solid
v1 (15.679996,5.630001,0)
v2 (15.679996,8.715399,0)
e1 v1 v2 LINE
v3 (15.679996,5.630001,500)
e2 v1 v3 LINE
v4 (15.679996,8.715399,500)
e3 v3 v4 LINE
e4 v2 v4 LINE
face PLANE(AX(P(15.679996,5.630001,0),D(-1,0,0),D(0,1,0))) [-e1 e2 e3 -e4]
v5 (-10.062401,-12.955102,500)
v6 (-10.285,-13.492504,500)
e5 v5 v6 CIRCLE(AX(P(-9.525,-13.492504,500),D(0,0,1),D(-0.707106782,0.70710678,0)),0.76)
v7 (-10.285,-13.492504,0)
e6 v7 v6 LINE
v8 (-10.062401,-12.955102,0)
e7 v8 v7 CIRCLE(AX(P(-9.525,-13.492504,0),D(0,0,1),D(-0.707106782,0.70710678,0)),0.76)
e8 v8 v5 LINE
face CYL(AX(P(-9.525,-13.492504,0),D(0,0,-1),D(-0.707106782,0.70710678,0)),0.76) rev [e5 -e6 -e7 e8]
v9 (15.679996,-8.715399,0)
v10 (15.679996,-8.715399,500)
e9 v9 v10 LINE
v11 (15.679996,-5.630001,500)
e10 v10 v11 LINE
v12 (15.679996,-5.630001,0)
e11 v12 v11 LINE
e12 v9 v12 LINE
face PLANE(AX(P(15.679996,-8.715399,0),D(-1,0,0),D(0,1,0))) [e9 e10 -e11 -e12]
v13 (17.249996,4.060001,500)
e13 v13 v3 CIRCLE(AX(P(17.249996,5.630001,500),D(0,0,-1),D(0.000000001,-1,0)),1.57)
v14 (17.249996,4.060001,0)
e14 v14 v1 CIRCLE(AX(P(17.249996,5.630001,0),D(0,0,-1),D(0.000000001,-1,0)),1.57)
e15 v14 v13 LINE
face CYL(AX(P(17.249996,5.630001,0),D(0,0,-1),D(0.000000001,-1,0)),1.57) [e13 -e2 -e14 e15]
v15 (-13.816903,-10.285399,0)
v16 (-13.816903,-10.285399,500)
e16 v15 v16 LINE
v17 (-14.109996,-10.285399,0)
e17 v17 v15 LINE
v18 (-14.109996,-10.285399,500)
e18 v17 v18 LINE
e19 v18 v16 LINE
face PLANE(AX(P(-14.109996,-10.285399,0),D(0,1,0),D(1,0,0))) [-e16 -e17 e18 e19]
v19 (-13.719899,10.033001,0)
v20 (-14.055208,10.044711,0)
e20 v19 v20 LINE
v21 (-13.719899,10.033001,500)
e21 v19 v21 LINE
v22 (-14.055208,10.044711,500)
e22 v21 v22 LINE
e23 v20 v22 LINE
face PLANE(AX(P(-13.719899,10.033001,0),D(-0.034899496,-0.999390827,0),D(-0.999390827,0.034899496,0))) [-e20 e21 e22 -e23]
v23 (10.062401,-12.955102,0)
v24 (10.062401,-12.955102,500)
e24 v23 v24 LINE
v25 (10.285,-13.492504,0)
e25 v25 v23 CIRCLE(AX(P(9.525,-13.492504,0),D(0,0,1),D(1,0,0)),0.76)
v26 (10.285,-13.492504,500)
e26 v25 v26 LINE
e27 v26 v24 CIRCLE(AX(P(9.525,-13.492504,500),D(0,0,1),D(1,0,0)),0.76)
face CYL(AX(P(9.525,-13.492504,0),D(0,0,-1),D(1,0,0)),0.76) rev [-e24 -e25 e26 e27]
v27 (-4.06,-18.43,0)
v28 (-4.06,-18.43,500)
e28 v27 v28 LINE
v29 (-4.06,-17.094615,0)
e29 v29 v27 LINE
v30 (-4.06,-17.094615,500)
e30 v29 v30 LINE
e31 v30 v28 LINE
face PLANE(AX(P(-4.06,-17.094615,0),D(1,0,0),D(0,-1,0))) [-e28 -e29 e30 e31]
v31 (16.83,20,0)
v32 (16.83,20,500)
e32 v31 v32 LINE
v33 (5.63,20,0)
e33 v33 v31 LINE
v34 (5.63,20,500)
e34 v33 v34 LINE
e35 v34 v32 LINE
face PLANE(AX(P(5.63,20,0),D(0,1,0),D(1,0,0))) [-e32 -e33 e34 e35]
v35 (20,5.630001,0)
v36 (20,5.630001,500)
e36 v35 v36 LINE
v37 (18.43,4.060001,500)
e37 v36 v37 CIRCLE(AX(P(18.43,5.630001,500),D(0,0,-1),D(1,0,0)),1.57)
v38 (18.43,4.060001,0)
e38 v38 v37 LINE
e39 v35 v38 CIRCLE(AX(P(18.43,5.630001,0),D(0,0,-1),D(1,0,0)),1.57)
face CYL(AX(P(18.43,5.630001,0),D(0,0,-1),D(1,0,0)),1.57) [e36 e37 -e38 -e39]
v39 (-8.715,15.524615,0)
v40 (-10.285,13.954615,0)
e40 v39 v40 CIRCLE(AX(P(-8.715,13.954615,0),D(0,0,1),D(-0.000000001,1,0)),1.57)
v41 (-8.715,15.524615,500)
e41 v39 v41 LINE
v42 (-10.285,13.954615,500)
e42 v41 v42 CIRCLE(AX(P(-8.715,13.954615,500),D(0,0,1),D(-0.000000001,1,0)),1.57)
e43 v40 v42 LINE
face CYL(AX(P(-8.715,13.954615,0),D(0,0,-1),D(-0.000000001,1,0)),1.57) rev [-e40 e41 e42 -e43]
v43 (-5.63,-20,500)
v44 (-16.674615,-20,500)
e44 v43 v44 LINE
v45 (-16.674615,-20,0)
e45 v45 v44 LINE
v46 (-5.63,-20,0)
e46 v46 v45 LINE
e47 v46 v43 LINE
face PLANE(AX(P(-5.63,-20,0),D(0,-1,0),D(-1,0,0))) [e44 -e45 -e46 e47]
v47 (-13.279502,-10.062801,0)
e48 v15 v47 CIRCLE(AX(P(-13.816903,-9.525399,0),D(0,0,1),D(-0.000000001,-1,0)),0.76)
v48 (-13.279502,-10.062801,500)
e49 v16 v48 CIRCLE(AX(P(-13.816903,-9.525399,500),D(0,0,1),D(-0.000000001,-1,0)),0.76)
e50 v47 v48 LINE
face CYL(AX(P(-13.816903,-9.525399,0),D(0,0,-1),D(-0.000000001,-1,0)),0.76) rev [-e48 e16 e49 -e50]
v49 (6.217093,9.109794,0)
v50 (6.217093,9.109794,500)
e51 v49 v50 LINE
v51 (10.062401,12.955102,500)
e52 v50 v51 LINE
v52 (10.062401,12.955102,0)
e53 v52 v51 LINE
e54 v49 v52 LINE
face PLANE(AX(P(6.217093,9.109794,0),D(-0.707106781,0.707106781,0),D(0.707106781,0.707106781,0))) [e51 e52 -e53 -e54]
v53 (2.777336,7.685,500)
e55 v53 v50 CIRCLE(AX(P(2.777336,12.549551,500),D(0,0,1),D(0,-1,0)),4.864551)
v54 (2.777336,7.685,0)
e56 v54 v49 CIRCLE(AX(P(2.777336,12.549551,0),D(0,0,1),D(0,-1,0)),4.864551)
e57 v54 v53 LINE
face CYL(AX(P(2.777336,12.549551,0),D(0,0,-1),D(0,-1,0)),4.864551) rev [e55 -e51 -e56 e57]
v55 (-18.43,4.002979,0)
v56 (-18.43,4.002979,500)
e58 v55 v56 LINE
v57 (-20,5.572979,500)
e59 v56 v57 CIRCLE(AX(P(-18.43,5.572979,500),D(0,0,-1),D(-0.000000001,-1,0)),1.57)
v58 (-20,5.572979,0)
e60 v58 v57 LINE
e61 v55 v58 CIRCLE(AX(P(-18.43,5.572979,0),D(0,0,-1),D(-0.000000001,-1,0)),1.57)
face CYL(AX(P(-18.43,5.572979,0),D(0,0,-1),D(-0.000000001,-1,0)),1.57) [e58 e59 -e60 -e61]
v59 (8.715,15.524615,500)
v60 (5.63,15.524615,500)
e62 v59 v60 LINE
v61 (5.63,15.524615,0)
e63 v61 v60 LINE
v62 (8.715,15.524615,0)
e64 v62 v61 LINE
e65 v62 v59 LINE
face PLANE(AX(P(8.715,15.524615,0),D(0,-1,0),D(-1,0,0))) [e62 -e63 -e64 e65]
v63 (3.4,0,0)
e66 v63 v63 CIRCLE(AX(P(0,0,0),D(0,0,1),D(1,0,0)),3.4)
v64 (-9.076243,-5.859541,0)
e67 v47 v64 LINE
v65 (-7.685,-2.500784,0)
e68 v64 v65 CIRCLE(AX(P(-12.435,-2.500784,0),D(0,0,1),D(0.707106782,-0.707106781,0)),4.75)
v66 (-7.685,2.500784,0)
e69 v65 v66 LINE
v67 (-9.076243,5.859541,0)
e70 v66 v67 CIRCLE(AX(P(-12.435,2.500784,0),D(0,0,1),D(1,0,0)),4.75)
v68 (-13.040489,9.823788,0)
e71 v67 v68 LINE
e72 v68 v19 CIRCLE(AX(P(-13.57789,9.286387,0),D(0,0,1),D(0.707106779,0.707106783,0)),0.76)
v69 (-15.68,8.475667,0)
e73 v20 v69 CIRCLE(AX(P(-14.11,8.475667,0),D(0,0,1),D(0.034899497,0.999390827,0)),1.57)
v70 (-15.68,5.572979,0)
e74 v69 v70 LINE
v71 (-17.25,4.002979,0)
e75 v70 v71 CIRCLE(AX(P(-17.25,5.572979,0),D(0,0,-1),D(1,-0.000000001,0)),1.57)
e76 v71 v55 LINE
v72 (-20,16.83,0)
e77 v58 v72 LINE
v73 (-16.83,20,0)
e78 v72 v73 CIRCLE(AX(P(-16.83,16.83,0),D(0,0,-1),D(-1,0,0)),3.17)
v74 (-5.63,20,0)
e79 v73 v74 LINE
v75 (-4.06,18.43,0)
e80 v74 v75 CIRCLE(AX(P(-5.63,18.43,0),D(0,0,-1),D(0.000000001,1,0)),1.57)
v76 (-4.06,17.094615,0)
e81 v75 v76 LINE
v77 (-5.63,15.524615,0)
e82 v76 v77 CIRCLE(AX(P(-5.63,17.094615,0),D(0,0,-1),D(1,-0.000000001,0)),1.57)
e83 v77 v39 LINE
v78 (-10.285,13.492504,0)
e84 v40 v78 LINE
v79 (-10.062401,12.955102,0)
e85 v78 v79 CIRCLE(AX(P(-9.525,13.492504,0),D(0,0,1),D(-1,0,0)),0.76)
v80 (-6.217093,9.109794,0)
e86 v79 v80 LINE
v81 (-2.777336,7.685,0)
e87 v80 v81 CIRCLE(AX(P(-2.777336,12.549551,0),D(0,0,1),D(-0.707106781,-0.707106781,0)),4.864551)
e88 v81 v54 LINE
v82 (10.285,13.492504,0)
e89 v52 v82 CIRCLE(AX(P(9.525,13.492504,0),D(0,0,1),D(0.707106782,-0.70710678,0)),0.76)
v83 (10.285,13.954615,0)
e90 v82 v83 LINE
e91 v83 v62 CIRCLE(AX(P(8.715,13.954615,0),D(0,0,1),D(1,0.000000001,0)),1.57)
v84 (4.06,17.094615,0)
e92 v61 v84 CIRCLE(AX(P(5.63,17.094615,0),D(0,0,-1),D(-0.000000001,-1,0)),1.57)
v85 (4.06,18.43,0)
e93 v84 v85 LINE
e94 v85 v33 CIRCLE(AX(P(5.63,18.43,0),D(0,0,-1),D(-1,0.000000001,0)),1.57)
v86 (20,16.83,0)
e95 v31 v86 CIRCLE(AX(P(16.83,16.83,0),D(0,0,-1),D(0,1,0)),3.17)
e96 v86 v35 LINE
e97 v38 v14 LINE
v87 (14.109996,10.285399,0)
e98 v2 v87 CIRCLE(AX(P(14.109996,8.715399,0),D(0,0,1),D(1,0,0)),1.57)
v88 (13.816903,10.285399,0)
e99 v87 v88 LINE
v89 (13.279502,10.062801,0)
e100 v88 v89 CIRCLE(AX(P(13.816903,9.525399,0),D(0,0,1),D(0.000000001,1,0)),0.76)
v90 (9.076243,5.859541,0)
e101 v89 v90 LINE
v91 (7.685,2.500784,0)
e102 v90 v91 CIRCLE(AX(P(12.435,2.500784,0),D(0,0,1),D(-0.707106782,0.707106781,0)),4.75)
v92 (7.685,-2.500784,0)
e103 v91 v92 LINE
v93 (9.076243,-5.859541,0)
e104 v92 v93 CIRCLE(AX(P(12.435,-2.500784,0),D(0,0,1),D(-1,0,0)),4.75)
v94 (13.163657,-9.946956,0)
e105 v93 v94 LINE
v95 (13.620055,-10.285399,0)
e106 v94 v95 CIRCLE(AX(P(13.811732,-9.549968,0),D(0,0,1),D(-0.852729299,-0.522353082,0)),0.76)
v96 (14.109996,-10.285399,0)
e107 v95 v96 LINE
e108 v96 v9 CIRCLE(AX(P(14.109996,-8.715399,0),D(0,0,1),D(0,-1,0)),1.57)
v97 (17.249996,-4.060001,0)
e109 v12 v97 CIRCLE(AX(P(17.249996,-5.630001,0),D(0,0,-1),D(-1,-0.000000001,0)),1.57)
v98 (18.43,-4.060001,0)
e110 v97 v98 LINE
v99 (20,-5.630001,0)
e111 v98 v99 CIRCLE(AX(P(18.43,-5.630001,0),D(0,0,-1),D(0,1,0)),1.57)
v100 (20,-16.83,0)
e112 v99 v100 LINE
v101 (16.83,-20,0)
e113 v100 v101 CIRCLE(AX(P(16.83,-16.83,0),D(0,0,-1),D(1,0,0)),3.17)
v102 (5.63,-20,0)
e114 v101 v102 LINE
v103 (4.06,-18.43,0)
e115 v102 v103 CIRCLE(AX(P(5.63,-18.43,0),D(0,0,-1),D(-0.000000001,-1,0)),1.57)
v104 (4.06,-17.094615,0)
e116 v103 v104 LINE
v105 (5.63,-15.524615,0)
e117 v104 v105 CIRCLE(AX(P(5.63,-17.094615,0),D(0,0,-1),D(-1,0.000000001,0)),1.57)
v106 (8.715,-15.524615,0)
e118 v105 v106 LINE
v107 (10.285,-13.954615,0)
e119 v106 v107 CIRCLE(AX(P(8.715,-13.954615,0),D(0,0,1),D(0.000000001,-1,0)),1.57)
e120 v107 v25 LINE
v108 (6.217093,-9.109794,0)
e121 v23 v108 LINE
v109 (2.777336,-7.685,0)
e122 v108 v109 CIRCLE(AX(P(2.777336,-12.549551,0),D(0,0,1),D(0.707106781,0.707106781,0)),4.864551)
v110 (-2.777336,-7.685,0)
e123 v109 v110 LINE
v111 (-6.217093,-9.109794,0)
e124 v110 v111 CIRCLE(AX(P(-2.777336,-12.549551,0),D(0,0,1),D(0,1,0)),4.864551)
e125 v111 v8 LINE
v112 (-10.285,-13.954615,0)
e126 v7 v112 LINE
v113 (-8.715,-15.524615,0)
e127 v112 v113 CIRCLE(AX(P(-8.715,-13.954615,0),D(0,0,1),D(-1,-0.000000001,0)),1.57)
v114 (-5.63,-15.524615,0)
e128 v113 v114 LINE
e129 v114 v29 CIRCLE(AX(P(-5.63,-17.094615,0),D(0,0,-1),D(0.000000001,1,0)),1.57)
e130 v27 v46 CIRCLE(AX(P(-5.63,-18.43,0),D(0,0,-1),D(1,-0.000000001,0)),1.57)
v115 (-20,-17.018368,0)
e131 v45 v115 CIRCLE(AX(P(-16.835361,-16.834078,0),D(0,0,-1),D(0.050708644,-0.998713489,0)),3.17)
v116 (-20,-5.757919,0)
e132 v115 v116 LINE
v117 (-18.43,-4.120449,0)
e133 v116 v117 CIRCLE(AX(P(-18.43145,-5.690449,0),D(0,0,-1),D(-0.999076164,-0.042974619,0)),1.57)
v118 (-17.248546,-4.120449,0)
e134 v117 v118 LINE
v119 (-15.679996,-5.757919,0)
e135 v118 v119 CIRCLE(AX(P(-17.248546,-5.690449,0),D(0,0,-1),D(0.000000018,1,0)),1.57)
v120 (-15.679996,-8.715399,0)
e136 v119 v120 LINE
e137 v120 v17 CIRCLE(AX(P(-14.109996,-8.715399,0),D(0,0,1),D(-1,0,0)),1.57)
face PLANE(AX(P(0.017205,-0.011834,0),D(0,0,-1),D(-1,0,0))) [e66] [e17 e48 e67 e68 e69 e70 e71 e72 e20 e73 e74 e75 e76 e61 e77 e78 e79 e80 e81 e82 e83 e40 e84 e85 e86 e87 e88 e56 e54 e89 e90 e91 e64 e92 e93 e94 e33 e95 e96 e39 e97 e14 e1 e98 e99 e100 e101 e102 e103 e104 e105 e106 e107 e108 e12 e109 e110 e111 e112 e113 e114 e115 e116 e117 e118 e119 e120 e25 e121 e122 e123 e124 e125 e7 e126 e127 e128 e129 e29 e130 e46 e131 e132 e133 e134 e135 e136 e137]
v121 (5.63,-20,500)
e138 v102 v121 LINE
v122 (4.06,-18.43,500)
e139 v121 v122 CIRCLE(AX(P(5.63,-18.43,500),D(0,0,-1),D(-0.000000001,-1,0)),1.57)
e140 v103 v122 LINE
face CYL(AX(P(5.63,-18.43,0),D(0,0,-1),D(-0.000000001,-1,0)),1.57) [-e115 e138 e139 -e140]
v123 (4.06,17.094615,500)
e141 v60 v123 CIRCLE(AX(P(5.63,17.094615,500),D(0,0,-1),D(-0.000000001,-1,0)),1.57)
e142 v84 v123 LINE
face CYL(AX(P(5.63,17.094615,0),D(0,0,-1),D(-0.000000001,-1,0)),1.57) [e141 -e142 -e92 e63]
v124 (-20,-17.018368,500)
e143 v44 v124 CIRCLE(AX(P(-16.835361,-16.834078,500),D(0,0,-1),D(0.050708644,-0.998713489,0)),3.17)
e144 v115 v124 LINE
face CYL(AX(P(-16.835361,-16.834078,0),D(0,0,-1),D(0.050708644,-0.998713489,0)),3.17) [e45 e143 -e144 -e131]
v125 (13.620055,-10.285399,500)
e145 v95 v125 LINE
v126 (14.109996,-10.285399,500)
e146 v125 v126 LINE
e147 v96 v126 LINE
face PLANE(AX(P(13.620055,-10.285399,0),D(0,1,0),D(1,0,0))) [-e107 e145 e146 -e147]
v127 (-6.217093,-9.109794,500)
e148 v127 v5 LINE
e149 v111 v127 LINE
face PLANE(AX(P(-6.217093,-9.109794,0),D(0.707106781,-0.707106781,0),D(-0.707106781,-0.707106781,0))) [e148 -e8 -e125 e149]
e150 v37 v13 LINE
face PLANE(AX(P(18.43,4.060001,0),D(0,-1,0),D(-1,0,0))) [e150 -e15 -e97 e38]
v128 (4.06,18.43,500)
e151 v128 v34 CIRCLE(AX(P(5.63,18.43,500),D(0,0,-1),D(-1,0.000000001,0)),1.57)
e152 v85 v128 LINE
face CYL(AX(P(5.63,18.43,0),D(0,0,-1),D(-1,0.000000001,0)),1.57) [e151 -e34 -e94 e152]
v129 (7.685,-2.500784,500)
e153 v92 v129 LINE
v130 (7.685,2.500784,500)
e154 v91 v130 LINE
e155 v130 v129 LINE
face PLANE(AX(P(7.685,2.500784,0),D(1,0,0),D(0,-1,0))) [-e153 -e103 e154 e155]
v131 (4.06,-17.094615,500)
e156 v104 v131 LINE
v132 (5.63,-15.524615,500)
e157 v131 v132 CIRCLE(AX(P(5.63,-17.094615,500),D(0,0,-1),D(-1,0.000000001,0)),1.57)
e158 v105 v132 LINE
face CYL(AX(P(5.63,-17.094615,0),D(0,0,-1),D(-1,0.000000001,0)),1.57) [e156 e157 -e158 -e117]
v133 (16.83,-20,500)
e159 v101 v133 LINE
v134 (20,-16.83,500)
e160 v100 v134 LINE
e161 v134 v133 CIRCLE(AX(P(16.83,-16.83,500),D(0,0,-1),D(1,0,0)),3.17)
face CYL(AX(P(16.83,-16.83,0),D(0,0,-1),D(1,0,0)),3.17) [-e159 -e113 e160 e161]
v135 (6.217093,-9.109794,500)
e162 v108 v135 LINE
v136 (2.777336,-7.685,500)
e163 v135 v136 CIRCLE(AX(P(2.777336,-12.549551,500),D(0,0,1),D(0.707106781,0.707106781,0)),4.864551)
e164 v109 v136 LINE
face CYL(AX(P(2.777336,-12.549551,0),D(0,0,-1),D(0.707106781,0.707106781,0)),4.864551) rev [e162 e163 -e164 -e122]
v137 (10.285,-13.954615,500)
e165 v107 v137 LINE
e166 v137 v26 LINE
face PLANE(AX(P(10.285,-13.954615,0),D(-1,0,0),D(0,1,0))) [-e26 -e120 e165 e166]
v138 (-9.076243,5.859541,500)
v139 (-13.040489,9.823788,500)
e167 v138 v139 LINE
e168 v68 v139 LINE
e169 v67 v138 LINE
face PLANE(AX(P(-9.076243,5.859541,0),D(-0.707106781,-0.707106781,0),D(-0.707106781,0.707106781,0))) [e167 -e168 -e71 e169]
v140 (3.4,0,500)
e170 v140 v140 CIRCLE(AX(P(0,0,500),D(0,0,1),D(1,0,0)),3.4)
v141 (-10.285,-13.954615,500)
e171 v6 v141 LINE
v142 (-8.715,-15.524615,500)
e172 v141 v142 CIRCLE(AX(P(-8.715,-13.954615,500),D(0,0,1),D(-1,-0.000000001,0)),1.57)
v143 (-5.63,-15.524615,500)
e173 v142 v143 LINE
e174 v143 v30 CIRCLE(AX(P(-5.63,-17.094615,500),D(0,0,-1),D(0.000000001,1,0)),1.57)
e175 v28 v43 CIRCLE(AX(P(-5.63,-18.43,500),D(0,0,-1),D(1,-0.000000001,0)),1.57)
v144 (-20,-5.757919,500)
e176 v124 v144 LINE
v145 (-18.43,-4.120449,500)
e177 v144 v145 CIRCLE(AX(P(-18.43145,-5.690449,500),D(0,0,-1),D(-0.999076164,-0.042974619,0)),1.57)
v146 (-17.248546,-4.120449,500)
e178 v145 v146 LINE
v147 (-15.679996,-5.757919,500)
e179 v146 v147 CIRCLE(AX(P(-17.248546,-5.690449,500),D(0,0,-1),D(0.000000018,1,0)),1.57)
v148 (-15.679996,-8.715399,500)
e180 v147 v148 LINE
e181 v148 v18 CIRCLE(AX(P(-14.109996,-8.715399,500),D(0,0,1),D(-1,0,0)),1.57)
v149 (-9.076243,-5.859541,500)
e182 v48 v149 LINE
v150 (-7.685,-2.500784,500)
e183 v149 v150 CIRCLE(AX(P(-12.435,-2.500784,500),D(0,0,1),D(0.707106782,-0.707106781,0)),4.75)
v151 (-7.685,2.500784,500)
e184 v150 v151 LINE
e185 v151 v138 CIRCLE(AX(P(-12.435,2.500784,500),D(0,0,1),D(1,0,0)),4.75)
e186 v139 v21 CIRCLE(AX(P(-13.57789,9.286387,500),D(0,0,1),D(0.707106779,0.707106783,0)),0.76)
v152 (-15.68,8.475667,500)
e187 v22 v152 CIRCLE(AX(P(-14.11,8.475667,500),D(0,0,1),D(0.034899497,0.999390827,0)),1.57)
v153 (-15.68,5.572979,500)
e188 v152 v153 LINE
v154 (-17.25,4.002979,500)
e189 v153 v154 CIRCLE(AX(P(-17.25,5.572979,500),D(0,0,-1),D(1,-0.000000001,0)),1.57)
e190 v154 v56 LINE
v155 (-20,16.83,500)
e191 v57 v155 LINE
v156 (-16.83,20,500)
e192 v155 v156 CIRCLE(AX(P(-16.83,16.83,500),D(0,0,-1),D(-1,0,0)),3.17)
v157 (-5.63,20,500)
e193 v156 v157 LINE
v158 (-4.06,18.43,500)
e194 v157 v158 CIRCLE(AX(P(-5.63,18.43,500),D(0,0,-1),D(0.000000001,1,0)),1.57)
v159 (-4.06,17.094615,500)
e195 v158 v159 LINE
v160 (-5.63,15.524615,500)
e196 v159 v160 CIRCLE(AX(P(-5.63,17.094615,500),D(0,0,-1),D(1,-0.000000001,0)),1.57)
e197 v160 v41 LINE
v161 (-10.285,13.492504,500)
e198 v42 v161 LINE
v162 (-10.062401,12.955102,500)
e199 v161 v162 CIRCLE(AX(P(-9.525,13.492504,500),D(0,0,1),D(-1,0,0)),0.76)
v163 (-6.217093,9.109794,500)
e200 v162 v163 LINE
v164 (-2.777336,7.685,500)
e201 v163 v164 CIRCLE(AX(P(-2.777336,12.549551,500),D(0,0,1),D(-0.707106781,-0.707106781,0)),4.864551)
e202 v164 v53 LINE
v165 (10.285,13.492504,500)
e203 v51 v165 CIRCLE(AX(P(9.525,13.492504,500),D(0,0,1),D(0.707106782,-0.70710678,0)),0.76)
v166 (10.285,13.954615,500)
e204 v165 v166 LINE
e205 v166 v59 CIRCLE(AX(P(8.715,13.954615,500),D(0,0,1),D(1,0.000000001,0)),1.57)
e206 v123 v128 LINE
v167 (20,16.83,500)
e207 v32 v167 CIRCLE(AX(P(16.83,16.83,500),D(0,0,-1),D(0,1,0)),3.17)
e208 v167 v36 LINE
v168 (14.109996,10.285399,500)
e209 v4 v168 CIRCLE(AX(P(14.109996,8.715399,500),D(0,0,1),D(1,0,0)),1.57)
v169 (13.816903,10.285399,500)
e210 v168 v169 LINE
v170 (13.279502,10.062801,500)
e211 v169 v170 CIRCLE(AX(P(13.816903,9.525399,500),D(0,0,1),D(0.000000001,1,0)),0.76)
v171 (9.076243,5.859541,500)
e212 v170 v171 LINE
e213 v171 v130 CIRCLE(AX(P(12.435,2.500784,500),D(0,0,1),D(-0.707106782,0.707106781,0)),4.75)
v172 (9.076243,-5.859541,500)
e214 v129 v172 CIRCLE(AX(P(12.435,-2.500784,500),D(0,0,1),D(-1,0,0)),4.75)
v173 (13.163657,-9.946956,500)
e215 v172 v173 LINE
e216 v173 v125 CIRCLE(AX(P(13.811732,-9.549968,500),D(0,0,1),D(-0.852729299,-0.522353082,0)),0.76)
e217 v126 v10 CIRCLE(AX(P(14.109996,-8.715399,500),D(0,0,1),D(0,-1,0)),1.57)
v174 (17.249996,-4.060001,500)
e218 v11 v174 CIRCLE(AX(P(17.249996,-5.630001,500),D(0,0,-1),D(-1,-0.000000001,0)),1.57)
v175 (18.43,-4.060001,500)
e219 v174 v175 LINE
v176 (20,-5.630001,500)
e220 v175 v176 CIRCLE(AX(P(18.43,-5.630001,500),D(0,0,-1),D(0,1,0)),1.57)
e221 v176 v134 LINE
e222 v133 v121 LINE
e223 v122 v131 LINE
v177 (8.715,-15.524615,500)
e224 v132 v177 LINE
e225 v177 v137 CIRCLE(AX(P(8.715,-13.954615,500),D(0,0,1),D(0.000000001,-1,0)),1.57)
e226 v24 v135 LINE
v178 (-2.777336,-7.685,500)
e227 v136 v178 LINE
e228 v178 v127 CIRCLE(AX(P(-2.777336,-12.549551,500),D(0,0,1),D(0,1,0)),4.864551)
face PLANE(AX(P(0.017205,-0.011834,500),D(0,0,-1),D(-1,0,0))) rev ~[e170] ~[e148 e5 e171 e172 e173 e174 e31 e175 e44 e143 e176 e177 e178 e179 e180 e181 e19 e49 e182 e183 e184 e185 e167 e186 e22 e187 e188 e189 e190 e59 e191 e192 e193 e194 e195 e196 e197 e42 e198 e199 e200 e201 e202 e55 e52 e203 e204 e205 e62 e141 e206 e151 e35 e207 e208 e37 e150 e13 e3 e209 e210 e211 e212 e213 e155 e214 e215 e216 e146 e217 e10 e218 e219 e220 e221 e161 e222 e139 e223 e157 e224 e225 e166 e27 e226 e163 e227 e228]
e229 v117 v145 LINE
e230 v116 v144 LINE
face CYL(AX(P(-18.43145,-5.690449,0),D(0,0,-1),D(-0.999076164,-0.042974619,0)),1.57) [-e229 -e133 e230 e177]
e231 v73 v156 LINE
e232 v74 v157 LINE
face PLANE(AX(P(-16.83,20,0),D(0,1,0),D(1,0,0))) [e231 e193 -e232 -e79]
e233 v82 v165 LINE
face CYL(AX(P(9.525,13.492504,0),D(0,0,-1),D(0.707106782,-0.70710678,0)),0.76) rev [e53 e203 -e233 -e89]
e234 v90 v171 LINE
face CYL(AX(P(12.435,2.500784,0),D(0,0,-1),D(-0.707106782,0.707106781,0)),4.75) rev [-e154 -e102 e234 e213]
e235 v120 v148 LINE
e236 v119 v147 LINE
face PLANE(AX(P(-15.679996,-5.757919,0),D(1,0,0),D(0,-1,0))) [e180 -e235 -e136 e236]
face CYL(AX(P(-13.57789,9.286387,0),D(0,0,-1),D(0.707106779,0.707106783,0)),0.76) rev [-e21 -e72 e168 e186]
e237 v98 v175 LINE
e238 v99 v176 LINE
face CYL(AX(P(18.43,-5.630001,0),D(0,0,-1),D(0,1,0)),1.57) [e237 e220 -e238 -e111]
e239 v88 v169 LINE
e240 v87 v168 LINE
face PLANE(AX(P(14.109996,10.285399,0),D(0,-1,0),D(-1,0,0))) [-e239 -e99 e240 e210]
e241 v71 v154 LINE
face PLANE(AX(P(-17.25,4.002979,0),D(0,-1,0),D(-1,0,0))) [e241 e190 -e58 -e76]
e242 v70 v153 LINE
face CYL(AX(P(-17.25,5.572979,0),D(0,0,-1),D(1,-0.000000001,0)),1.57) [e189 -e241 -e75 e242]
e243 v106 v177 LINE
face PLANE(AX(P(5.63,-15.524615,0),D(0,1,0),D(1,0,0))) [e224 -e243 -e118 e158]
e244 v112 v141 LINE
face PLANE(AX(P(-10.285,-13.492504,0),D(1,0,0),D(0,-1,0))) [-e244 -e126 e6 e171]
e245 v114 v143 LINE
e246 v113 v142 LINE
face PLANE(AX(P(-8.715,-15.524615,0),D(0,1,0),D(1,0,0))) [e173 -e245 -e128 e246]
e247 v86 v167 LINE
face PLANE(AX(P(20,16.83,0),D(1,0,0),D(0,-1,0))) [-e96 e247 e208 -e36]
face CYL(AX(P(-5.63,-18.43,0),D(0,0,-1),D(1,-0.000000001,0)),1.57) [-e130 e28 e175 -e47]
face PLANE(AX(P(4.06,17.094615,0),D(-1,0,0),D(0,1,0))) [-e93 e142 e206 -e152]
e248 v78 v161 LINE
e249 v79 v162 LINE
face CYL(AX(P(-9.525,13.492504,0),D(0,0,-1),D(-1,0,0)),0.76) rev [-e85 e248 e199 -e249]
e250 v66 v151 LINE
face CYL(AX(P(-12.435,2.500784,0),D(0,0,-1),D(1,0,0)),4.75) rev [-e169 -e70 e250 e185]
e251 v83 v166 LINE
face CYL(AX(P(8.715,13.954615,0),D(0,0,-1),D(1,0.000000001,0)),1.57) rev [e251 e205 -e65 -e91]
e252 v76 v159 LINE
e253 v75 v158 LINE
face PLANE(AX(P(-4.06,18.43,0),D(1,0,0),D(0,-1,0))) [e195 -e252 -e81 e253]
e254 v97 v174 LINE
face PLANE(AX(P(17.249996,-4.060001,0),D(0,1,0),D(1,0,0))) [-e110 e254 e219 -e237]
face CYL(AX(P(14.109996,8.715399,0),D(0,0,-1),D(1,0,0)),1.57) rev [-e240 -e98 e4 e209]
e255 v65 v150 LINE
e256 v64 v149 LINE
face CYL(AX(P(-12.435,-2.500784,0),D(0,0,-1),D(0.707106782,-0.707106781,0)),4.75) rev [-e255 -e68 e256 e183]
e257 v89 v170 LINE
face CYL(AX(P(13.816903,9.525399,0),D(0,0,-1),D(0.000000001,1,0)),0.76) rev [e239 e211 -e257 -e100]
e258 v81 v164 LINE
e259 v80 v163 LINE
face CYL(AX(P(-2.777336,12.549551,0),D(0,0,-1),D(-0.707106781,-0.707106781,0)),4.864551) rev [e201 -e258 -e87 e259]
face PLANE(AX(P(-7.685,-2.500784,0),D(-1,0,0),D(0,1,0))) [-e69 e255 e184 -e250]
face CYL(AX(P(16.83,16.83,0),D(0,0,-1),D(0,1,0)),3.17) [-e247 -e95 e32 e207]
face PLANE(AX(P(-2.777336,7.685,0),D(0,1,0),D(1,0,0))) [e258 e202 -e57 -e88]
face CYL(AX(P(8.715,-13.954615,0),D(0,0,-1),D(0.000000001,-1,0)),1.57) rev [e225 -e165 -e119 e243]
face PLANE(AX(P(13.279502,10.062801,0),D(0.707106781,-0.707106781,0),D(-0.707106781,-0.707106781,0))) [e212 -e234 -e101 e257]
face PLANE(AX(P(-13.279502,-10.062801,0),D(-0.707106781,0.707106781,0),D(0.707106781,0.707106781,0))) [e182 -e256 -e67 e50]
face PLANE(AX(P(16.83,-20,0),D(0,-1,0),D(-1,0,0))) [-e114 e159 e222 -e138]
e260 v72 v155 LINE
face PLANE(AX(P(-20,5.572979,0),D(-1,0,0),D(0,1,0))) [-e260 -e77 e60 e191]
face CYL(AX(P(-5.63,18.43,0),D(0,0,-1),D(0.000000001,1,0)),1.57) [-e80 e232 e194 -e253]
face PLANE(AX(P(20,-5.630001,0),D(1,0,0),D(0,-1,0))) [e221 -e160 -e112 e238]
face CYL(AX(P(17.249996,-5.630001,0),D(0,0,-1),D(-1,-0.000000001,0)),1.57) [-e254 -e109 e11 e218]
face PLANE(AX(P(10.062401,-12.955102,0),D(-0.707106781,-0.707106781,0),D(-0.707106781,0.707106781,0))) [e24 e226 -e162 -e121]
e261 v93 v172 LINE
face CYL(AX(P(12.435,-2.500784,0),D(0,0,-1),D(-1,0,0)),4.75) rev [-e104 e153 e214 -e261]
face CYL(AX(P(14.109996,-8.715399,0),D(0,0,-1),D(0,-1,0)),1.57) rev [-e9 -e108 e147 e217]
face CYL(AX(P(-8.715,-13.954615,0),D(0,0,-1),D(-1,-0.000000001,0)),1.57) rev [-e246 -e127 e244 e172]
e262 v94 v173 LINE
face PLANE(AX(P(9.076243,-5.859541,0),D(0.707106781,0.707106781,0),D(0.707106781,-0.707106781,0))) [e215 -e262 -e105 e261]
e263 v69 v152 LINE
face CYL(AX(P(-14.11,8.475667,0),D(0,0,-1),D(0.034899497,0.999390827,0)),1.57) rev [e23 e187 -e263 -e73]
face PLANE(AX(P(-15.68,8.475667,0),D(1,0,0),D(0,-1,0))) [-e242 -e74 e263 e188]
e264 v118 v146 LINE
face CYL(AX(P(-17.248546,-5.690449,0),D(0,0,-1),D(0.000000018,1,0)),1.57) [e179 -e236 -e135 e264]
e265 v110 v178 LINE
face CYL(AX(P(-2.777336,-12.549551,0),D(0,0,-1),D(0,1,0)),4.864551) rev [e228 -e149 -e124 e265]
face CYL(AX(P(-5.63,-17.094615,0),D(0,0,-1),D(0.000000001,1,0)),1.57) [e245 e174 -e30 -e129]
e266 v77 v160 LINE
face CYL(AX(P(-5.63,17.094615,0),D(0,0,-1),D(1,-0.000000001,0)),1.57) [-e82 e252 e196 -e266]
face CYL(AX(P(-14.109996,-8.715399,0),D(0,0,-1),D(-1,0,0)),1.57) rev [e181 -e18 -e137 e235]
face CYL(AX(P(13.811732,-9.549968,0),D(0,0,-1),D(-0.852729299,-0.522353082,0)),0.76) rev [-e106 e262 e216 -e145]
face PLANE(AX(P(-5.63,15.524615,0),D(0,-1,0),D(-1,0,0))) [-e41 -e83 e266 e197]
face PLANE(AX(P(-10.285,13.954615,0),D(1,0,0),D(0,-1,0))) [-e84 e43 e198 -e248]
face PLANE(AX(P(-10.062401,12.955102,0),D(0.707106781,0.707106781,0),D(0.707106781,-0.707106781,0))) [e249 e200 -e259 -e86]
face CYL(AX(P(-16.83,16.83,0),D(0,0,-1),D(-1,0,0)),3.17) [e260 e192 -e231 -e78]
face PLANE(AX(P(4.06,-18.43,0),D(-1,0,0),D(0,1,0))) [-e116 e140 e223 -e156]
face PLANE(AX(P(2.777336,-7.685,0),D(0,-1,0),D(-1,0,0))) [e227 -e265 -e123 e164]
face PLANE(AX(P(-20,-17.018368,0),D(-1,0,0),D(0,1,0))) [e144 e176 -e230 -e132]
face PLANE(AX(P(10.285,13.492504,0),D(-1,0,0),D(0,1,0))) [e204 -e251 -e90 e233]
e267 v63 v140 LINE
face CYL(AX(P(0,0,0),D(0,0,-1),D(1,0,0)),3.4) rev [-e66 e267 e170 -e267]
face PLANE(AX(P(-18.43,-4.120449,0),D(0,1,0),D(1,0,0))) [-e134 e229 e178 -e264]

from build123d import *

# Parameters (mm, degrees)
SKETCH1_R           = 3.4
BOSS_EXTRUDE2_DEPTH = 500


with BuildPart() as part:
    # Sketch1 → Boss-Extrude2 (new body)
    with BuildSketch(Plane.XY):
        with BuildLine():
            Line((-8.715, -15.524615034), (-5.63, -15.524615034))
            ThreePointArc((-5.63, -15.524615034), (-4.519842354, -15.984457388), (-4.06, -17.094615034))
            Line((-4.06, -17.094615034), (-4.06, -18.43))
            ThreePointArc((-4.06, -18.43), (-4.519842354, -19.540157646), (-5.63, -20))
            Line((-5.63, -20), (-16.674615034, -20))
            ThreePointArc((-16.674615034, -20), (-18.951578385, -19.194274381), (-20, -17.018368134))
            Line((-20, -17.018368134), (-20, -5.757918808))
            ThreePointArc((-20, -5.757918808), (-19.564709668, -4.603883664), (-18.43, -4.120449326))
            Line((-18.43, -4.120449326), (-17.248545805, -4.120449326))
            ThreePointArc((-17.248545805, -4.120449326), (-16.114784845, -4.604407881), (-15.67999625, -5.757919334))
            Line((-15.67999625, -5.757919334), (-15.67999625, -8.715399492))
            ThreePointArc((-15.67999625, -8.715399492), (-15.220153896, -9.825557139), (-14.10999625, -10.285399492))
            Line((-14.10999625, -10.285399492), (-13.816903094, -10.285399492))
            ThreePointArc((-13.816903094, -10.285399492), (-13.526063686, -10.227547937), (-13.279501941, -10.062800646))
            Line((-13.279501941, -10.062800646), (-9.076242789, -5.859541495))
            ThreePointArc((-9.076242789, -5.859541495), (-8.046572221, -4.318530588), (-7.685, -2.500784284))
            Line((-7.685, -2.500784284), (-7.685, 2.500784284))
            ThreePointArc((-7.685, 2.500784284), (-8.046572221, 4.318530588), (-9.076242789, 5.859541495))
            Line((-9.076242789, 5.859541495), (-13.040489136, 9.823787841))
            ThreePointArc((-13.040489136, 9.823787841), (-13.354224618, 10.012729352), (-13.71989919, 10.033001362))
            Line((-13.71989919, 10.033001362), (-14.05520779, 10.044710596))
            ThreePointArc((-14.05520779, 10.044710596), (-15.200613642, 9.605030484), (-15.68, 8.475666998))
            Line((-15.68, 8.475666998), (-15.68, 5.572979049))
            ThreePointArc((-15.68, 5.572979049), (-16.139842354, 4.462821403), (-17.25, 4.002979049))
            Line((-17.25, 4.002979049), (-18.43, 4.002979049))
            ThreePointArc((-18.43, 4.002979049), (-19.540157646, 4.462821403), (-20, 5.572979049))
            Line((-20, 5.572979049), (-20, 13.004526564))
            Line((-20, 13.004526564), (-20, 16.83))
            ThreePointArc((-20, 16.83), (-19.071528496, 19.071528496), (-16.83, 20))
            Line((-16.83, 20), (-5.63, 20))
            ThreePointArc((-5.63, 20), (-4.519842354, 19.540157646), (-4.06, 18.43))
            Line((-4.06, 18.43), (-4.06, 17.094615034))
            ThreePointArc((-4.06, 17.094615034), (-4.519842354, 15.984457388), (-5.63, 15.524615034))
            Line((-5.63, 15.524615034), (-8.715, 15.524615034))
            ThreePointArc((-8.715, 15.524615034), (-9.825157646, 15.06477268), (-10.285, 13.954615034))
            Line((-10.285, 13.954615034), (-10.285, 13.492503602))
            ThreePointArc((-10.285, 13.492503602), (-10.227148445, 13.201664194), (-10.062401154, 12.955102448))
            Line((-10.062401154, 12.955102448), (-6.217092793, 9.109794088))
            ThreePointArc((-6.217092793, 9.109794088), (-4.63891877, 8.055291919), (-2.777335583, 7.685))
            Line((-2.777335583, 7.685), (2.777335583, 7.685))
            ThreePointArc((2.777335583, 7.685), (4.63891877, 8.055291919), (6.217092793, 9.109794088))
            Line((6.217092793, 9.109794088), (10.062401154, 12.955102448))
            ThreePointArc((10.062401154, 12.955102448), (10.227148445, 13.201664194), (10.285, 13.492503602))
            Line((10.285, 13.492503602), (10.285, 13.954615034))
            ThreePointArc((10.285, 13.954615034), (9.825157646, 15.06477268), (8.715, 15.524615034))
            Line((8.715, 15.524615034), (5.63, 15.524615034))
            ThreePointArc((5.63, 15.524615034), (4.519842354, 15.984457388), (4.06, 17.094615034))
            Line((4.06, 17.094615034), (4.06, 18.43))
            ThreePointArc((4.06, 18.43), (4.519842354, 19.540157646), (5.63, 20))
            Line((5.63, 20), (12.979635074, 20))
            Line((12.979635074, 20), (16.83, 20))
            ThreePointArc((16.83, 20), (19.071528496, 19.071528496), (20, 16.83))
            Line((20, 16.83), (20, 13.001098436))
            Line((20, 13.001098436), (20, 5.630000526))
            ThreePointArc((20, 5.630000526), (19.540157646, 4.519842879), (18.43, 4.060000526))
            Line((18.43, 4.060000526), (17.24999625, 4.060000526))
            ThreePointArc((17.24999625, 4.060000526), (16.139838603, 4.519842879), (15.67999625, 5.630000526))
            Line((15.67999625, 5.630000526), (15.67999625, 8.715399492))
            ThreePointArc((15.67999625, 8.715399492), (15.220153896, 9.825557139), (14.10999625, 10.285399492))
            Line((14.10999625, 10.285399492), (13.816903094, 10.285399492))
            ThreePointArc((13.816903094, 10.285399492), (13.526063686, 10.227547937), (13.279501941, 10.062800646))
            Line((13.279501941, 10.062800646), (9.076242789, 5.859541495))
            ThreePointArc((9.076242789, 5.859541495), (8.046572221, 4.318530588), (7.685, 2.500784284))
            Line((7.685, 2.500784284), (7.685, -2.500784284))
            ThreePointArc((7.685, -2.500784284), (8.046572221, -4.318530588), (9.076242789, -5.859541495))
            Line((9.076242789, -5.859541495), (13.163657296, -9.946956002))
            ThreePointArc((13.163657296, -9.946956002), (13.35903797, -10.160433474), (13.6200547, -10.285399492))
            Line((13.6200547, -10.285399492), (14.10999625, -10.285399492))
            ThreePointArc((14.10999625, -10.285399492), (15.220153896, -9.825557139), (15.67999625, -8.715399492))
            Line((15.67999625, -8.715399492), (15.67999625, -5.630000526))
            ThreePointArc((15.67999625, -5.630000526), (16.139838603, -4.519842879), (17.24999625, -4.060000526))
            Line((17.24999625, -4.060000526), (18.43, -4.060000526))
            ThreePointArc((18.43, -4.060000526), (19.540157646, -4.519842879), (20, -5.630000526))
            Line((20, -5.630000526), (20, -16.83))
            ThreePointArc((20, -16.83), (19.071528496, -19.071528496), (16.83, -20))
            Line((16.83, -20), (13, -20))
            Line((13, -20), (5.63, -20))
            ThreePointArc((5.63, -20), (4.519842354, -19.540157646), (4.06, -18.43))
            Line((4.06, -18.43), (4.06, -17.094615034))
            ThreePointArc((4.06, -17.094615034), (4.519842354, -15.984457388), (5.63, -15.524615034))
            Line((5.63, -15.524615034), (8.715, -15.524615034))
            ThreePointArc((8.715, -15.524615034), (9.825157646, -15.06477268), (10.285, -13.954615034))
            Line((10.285, -13.954615034), (10.285, -13.492503602))
            ThreePointArc((10.285, -13.492503602), (10.227148445, -13.201664194), (10.062401154, -12.955102448))
            Line((10.062401154, -12.955102448), (6.217092793, -9.109794088))
            ThreePointArc((6.217092793, -9.109794088), (4.63891877, -8.055291919), (2.777335583, -7.685))
            Line((2.777335583, -7.685), (-2.777335583, -7.685))
            ThreePointArc((-2.777335583, -7.685), (-4.63891877, -8.055291919), (-6.217092793, -9.109794088))
            Line((-6.217092793, -9.109794088), (-10.062401154, -12.955102448))
            ThreePointArc((-10.062401154, -12.955102448), (-10.227148445, -13.201664194), (-10.285, -13.492503602))
            Line((-10.285, -13.492503602), (-10.285, -13.954615034))
            ThreePointArc((-10.285, -13.954615034), (-9.825157646, -15.06477268), (-8.715, -15.524615034))
        make_face()
        Circle(SKETCH1_R, mode=Mode.SUBTRACT)
    extrude(amount=BOSS_EXTRUDE2_DEPTH)


solid = part.part
